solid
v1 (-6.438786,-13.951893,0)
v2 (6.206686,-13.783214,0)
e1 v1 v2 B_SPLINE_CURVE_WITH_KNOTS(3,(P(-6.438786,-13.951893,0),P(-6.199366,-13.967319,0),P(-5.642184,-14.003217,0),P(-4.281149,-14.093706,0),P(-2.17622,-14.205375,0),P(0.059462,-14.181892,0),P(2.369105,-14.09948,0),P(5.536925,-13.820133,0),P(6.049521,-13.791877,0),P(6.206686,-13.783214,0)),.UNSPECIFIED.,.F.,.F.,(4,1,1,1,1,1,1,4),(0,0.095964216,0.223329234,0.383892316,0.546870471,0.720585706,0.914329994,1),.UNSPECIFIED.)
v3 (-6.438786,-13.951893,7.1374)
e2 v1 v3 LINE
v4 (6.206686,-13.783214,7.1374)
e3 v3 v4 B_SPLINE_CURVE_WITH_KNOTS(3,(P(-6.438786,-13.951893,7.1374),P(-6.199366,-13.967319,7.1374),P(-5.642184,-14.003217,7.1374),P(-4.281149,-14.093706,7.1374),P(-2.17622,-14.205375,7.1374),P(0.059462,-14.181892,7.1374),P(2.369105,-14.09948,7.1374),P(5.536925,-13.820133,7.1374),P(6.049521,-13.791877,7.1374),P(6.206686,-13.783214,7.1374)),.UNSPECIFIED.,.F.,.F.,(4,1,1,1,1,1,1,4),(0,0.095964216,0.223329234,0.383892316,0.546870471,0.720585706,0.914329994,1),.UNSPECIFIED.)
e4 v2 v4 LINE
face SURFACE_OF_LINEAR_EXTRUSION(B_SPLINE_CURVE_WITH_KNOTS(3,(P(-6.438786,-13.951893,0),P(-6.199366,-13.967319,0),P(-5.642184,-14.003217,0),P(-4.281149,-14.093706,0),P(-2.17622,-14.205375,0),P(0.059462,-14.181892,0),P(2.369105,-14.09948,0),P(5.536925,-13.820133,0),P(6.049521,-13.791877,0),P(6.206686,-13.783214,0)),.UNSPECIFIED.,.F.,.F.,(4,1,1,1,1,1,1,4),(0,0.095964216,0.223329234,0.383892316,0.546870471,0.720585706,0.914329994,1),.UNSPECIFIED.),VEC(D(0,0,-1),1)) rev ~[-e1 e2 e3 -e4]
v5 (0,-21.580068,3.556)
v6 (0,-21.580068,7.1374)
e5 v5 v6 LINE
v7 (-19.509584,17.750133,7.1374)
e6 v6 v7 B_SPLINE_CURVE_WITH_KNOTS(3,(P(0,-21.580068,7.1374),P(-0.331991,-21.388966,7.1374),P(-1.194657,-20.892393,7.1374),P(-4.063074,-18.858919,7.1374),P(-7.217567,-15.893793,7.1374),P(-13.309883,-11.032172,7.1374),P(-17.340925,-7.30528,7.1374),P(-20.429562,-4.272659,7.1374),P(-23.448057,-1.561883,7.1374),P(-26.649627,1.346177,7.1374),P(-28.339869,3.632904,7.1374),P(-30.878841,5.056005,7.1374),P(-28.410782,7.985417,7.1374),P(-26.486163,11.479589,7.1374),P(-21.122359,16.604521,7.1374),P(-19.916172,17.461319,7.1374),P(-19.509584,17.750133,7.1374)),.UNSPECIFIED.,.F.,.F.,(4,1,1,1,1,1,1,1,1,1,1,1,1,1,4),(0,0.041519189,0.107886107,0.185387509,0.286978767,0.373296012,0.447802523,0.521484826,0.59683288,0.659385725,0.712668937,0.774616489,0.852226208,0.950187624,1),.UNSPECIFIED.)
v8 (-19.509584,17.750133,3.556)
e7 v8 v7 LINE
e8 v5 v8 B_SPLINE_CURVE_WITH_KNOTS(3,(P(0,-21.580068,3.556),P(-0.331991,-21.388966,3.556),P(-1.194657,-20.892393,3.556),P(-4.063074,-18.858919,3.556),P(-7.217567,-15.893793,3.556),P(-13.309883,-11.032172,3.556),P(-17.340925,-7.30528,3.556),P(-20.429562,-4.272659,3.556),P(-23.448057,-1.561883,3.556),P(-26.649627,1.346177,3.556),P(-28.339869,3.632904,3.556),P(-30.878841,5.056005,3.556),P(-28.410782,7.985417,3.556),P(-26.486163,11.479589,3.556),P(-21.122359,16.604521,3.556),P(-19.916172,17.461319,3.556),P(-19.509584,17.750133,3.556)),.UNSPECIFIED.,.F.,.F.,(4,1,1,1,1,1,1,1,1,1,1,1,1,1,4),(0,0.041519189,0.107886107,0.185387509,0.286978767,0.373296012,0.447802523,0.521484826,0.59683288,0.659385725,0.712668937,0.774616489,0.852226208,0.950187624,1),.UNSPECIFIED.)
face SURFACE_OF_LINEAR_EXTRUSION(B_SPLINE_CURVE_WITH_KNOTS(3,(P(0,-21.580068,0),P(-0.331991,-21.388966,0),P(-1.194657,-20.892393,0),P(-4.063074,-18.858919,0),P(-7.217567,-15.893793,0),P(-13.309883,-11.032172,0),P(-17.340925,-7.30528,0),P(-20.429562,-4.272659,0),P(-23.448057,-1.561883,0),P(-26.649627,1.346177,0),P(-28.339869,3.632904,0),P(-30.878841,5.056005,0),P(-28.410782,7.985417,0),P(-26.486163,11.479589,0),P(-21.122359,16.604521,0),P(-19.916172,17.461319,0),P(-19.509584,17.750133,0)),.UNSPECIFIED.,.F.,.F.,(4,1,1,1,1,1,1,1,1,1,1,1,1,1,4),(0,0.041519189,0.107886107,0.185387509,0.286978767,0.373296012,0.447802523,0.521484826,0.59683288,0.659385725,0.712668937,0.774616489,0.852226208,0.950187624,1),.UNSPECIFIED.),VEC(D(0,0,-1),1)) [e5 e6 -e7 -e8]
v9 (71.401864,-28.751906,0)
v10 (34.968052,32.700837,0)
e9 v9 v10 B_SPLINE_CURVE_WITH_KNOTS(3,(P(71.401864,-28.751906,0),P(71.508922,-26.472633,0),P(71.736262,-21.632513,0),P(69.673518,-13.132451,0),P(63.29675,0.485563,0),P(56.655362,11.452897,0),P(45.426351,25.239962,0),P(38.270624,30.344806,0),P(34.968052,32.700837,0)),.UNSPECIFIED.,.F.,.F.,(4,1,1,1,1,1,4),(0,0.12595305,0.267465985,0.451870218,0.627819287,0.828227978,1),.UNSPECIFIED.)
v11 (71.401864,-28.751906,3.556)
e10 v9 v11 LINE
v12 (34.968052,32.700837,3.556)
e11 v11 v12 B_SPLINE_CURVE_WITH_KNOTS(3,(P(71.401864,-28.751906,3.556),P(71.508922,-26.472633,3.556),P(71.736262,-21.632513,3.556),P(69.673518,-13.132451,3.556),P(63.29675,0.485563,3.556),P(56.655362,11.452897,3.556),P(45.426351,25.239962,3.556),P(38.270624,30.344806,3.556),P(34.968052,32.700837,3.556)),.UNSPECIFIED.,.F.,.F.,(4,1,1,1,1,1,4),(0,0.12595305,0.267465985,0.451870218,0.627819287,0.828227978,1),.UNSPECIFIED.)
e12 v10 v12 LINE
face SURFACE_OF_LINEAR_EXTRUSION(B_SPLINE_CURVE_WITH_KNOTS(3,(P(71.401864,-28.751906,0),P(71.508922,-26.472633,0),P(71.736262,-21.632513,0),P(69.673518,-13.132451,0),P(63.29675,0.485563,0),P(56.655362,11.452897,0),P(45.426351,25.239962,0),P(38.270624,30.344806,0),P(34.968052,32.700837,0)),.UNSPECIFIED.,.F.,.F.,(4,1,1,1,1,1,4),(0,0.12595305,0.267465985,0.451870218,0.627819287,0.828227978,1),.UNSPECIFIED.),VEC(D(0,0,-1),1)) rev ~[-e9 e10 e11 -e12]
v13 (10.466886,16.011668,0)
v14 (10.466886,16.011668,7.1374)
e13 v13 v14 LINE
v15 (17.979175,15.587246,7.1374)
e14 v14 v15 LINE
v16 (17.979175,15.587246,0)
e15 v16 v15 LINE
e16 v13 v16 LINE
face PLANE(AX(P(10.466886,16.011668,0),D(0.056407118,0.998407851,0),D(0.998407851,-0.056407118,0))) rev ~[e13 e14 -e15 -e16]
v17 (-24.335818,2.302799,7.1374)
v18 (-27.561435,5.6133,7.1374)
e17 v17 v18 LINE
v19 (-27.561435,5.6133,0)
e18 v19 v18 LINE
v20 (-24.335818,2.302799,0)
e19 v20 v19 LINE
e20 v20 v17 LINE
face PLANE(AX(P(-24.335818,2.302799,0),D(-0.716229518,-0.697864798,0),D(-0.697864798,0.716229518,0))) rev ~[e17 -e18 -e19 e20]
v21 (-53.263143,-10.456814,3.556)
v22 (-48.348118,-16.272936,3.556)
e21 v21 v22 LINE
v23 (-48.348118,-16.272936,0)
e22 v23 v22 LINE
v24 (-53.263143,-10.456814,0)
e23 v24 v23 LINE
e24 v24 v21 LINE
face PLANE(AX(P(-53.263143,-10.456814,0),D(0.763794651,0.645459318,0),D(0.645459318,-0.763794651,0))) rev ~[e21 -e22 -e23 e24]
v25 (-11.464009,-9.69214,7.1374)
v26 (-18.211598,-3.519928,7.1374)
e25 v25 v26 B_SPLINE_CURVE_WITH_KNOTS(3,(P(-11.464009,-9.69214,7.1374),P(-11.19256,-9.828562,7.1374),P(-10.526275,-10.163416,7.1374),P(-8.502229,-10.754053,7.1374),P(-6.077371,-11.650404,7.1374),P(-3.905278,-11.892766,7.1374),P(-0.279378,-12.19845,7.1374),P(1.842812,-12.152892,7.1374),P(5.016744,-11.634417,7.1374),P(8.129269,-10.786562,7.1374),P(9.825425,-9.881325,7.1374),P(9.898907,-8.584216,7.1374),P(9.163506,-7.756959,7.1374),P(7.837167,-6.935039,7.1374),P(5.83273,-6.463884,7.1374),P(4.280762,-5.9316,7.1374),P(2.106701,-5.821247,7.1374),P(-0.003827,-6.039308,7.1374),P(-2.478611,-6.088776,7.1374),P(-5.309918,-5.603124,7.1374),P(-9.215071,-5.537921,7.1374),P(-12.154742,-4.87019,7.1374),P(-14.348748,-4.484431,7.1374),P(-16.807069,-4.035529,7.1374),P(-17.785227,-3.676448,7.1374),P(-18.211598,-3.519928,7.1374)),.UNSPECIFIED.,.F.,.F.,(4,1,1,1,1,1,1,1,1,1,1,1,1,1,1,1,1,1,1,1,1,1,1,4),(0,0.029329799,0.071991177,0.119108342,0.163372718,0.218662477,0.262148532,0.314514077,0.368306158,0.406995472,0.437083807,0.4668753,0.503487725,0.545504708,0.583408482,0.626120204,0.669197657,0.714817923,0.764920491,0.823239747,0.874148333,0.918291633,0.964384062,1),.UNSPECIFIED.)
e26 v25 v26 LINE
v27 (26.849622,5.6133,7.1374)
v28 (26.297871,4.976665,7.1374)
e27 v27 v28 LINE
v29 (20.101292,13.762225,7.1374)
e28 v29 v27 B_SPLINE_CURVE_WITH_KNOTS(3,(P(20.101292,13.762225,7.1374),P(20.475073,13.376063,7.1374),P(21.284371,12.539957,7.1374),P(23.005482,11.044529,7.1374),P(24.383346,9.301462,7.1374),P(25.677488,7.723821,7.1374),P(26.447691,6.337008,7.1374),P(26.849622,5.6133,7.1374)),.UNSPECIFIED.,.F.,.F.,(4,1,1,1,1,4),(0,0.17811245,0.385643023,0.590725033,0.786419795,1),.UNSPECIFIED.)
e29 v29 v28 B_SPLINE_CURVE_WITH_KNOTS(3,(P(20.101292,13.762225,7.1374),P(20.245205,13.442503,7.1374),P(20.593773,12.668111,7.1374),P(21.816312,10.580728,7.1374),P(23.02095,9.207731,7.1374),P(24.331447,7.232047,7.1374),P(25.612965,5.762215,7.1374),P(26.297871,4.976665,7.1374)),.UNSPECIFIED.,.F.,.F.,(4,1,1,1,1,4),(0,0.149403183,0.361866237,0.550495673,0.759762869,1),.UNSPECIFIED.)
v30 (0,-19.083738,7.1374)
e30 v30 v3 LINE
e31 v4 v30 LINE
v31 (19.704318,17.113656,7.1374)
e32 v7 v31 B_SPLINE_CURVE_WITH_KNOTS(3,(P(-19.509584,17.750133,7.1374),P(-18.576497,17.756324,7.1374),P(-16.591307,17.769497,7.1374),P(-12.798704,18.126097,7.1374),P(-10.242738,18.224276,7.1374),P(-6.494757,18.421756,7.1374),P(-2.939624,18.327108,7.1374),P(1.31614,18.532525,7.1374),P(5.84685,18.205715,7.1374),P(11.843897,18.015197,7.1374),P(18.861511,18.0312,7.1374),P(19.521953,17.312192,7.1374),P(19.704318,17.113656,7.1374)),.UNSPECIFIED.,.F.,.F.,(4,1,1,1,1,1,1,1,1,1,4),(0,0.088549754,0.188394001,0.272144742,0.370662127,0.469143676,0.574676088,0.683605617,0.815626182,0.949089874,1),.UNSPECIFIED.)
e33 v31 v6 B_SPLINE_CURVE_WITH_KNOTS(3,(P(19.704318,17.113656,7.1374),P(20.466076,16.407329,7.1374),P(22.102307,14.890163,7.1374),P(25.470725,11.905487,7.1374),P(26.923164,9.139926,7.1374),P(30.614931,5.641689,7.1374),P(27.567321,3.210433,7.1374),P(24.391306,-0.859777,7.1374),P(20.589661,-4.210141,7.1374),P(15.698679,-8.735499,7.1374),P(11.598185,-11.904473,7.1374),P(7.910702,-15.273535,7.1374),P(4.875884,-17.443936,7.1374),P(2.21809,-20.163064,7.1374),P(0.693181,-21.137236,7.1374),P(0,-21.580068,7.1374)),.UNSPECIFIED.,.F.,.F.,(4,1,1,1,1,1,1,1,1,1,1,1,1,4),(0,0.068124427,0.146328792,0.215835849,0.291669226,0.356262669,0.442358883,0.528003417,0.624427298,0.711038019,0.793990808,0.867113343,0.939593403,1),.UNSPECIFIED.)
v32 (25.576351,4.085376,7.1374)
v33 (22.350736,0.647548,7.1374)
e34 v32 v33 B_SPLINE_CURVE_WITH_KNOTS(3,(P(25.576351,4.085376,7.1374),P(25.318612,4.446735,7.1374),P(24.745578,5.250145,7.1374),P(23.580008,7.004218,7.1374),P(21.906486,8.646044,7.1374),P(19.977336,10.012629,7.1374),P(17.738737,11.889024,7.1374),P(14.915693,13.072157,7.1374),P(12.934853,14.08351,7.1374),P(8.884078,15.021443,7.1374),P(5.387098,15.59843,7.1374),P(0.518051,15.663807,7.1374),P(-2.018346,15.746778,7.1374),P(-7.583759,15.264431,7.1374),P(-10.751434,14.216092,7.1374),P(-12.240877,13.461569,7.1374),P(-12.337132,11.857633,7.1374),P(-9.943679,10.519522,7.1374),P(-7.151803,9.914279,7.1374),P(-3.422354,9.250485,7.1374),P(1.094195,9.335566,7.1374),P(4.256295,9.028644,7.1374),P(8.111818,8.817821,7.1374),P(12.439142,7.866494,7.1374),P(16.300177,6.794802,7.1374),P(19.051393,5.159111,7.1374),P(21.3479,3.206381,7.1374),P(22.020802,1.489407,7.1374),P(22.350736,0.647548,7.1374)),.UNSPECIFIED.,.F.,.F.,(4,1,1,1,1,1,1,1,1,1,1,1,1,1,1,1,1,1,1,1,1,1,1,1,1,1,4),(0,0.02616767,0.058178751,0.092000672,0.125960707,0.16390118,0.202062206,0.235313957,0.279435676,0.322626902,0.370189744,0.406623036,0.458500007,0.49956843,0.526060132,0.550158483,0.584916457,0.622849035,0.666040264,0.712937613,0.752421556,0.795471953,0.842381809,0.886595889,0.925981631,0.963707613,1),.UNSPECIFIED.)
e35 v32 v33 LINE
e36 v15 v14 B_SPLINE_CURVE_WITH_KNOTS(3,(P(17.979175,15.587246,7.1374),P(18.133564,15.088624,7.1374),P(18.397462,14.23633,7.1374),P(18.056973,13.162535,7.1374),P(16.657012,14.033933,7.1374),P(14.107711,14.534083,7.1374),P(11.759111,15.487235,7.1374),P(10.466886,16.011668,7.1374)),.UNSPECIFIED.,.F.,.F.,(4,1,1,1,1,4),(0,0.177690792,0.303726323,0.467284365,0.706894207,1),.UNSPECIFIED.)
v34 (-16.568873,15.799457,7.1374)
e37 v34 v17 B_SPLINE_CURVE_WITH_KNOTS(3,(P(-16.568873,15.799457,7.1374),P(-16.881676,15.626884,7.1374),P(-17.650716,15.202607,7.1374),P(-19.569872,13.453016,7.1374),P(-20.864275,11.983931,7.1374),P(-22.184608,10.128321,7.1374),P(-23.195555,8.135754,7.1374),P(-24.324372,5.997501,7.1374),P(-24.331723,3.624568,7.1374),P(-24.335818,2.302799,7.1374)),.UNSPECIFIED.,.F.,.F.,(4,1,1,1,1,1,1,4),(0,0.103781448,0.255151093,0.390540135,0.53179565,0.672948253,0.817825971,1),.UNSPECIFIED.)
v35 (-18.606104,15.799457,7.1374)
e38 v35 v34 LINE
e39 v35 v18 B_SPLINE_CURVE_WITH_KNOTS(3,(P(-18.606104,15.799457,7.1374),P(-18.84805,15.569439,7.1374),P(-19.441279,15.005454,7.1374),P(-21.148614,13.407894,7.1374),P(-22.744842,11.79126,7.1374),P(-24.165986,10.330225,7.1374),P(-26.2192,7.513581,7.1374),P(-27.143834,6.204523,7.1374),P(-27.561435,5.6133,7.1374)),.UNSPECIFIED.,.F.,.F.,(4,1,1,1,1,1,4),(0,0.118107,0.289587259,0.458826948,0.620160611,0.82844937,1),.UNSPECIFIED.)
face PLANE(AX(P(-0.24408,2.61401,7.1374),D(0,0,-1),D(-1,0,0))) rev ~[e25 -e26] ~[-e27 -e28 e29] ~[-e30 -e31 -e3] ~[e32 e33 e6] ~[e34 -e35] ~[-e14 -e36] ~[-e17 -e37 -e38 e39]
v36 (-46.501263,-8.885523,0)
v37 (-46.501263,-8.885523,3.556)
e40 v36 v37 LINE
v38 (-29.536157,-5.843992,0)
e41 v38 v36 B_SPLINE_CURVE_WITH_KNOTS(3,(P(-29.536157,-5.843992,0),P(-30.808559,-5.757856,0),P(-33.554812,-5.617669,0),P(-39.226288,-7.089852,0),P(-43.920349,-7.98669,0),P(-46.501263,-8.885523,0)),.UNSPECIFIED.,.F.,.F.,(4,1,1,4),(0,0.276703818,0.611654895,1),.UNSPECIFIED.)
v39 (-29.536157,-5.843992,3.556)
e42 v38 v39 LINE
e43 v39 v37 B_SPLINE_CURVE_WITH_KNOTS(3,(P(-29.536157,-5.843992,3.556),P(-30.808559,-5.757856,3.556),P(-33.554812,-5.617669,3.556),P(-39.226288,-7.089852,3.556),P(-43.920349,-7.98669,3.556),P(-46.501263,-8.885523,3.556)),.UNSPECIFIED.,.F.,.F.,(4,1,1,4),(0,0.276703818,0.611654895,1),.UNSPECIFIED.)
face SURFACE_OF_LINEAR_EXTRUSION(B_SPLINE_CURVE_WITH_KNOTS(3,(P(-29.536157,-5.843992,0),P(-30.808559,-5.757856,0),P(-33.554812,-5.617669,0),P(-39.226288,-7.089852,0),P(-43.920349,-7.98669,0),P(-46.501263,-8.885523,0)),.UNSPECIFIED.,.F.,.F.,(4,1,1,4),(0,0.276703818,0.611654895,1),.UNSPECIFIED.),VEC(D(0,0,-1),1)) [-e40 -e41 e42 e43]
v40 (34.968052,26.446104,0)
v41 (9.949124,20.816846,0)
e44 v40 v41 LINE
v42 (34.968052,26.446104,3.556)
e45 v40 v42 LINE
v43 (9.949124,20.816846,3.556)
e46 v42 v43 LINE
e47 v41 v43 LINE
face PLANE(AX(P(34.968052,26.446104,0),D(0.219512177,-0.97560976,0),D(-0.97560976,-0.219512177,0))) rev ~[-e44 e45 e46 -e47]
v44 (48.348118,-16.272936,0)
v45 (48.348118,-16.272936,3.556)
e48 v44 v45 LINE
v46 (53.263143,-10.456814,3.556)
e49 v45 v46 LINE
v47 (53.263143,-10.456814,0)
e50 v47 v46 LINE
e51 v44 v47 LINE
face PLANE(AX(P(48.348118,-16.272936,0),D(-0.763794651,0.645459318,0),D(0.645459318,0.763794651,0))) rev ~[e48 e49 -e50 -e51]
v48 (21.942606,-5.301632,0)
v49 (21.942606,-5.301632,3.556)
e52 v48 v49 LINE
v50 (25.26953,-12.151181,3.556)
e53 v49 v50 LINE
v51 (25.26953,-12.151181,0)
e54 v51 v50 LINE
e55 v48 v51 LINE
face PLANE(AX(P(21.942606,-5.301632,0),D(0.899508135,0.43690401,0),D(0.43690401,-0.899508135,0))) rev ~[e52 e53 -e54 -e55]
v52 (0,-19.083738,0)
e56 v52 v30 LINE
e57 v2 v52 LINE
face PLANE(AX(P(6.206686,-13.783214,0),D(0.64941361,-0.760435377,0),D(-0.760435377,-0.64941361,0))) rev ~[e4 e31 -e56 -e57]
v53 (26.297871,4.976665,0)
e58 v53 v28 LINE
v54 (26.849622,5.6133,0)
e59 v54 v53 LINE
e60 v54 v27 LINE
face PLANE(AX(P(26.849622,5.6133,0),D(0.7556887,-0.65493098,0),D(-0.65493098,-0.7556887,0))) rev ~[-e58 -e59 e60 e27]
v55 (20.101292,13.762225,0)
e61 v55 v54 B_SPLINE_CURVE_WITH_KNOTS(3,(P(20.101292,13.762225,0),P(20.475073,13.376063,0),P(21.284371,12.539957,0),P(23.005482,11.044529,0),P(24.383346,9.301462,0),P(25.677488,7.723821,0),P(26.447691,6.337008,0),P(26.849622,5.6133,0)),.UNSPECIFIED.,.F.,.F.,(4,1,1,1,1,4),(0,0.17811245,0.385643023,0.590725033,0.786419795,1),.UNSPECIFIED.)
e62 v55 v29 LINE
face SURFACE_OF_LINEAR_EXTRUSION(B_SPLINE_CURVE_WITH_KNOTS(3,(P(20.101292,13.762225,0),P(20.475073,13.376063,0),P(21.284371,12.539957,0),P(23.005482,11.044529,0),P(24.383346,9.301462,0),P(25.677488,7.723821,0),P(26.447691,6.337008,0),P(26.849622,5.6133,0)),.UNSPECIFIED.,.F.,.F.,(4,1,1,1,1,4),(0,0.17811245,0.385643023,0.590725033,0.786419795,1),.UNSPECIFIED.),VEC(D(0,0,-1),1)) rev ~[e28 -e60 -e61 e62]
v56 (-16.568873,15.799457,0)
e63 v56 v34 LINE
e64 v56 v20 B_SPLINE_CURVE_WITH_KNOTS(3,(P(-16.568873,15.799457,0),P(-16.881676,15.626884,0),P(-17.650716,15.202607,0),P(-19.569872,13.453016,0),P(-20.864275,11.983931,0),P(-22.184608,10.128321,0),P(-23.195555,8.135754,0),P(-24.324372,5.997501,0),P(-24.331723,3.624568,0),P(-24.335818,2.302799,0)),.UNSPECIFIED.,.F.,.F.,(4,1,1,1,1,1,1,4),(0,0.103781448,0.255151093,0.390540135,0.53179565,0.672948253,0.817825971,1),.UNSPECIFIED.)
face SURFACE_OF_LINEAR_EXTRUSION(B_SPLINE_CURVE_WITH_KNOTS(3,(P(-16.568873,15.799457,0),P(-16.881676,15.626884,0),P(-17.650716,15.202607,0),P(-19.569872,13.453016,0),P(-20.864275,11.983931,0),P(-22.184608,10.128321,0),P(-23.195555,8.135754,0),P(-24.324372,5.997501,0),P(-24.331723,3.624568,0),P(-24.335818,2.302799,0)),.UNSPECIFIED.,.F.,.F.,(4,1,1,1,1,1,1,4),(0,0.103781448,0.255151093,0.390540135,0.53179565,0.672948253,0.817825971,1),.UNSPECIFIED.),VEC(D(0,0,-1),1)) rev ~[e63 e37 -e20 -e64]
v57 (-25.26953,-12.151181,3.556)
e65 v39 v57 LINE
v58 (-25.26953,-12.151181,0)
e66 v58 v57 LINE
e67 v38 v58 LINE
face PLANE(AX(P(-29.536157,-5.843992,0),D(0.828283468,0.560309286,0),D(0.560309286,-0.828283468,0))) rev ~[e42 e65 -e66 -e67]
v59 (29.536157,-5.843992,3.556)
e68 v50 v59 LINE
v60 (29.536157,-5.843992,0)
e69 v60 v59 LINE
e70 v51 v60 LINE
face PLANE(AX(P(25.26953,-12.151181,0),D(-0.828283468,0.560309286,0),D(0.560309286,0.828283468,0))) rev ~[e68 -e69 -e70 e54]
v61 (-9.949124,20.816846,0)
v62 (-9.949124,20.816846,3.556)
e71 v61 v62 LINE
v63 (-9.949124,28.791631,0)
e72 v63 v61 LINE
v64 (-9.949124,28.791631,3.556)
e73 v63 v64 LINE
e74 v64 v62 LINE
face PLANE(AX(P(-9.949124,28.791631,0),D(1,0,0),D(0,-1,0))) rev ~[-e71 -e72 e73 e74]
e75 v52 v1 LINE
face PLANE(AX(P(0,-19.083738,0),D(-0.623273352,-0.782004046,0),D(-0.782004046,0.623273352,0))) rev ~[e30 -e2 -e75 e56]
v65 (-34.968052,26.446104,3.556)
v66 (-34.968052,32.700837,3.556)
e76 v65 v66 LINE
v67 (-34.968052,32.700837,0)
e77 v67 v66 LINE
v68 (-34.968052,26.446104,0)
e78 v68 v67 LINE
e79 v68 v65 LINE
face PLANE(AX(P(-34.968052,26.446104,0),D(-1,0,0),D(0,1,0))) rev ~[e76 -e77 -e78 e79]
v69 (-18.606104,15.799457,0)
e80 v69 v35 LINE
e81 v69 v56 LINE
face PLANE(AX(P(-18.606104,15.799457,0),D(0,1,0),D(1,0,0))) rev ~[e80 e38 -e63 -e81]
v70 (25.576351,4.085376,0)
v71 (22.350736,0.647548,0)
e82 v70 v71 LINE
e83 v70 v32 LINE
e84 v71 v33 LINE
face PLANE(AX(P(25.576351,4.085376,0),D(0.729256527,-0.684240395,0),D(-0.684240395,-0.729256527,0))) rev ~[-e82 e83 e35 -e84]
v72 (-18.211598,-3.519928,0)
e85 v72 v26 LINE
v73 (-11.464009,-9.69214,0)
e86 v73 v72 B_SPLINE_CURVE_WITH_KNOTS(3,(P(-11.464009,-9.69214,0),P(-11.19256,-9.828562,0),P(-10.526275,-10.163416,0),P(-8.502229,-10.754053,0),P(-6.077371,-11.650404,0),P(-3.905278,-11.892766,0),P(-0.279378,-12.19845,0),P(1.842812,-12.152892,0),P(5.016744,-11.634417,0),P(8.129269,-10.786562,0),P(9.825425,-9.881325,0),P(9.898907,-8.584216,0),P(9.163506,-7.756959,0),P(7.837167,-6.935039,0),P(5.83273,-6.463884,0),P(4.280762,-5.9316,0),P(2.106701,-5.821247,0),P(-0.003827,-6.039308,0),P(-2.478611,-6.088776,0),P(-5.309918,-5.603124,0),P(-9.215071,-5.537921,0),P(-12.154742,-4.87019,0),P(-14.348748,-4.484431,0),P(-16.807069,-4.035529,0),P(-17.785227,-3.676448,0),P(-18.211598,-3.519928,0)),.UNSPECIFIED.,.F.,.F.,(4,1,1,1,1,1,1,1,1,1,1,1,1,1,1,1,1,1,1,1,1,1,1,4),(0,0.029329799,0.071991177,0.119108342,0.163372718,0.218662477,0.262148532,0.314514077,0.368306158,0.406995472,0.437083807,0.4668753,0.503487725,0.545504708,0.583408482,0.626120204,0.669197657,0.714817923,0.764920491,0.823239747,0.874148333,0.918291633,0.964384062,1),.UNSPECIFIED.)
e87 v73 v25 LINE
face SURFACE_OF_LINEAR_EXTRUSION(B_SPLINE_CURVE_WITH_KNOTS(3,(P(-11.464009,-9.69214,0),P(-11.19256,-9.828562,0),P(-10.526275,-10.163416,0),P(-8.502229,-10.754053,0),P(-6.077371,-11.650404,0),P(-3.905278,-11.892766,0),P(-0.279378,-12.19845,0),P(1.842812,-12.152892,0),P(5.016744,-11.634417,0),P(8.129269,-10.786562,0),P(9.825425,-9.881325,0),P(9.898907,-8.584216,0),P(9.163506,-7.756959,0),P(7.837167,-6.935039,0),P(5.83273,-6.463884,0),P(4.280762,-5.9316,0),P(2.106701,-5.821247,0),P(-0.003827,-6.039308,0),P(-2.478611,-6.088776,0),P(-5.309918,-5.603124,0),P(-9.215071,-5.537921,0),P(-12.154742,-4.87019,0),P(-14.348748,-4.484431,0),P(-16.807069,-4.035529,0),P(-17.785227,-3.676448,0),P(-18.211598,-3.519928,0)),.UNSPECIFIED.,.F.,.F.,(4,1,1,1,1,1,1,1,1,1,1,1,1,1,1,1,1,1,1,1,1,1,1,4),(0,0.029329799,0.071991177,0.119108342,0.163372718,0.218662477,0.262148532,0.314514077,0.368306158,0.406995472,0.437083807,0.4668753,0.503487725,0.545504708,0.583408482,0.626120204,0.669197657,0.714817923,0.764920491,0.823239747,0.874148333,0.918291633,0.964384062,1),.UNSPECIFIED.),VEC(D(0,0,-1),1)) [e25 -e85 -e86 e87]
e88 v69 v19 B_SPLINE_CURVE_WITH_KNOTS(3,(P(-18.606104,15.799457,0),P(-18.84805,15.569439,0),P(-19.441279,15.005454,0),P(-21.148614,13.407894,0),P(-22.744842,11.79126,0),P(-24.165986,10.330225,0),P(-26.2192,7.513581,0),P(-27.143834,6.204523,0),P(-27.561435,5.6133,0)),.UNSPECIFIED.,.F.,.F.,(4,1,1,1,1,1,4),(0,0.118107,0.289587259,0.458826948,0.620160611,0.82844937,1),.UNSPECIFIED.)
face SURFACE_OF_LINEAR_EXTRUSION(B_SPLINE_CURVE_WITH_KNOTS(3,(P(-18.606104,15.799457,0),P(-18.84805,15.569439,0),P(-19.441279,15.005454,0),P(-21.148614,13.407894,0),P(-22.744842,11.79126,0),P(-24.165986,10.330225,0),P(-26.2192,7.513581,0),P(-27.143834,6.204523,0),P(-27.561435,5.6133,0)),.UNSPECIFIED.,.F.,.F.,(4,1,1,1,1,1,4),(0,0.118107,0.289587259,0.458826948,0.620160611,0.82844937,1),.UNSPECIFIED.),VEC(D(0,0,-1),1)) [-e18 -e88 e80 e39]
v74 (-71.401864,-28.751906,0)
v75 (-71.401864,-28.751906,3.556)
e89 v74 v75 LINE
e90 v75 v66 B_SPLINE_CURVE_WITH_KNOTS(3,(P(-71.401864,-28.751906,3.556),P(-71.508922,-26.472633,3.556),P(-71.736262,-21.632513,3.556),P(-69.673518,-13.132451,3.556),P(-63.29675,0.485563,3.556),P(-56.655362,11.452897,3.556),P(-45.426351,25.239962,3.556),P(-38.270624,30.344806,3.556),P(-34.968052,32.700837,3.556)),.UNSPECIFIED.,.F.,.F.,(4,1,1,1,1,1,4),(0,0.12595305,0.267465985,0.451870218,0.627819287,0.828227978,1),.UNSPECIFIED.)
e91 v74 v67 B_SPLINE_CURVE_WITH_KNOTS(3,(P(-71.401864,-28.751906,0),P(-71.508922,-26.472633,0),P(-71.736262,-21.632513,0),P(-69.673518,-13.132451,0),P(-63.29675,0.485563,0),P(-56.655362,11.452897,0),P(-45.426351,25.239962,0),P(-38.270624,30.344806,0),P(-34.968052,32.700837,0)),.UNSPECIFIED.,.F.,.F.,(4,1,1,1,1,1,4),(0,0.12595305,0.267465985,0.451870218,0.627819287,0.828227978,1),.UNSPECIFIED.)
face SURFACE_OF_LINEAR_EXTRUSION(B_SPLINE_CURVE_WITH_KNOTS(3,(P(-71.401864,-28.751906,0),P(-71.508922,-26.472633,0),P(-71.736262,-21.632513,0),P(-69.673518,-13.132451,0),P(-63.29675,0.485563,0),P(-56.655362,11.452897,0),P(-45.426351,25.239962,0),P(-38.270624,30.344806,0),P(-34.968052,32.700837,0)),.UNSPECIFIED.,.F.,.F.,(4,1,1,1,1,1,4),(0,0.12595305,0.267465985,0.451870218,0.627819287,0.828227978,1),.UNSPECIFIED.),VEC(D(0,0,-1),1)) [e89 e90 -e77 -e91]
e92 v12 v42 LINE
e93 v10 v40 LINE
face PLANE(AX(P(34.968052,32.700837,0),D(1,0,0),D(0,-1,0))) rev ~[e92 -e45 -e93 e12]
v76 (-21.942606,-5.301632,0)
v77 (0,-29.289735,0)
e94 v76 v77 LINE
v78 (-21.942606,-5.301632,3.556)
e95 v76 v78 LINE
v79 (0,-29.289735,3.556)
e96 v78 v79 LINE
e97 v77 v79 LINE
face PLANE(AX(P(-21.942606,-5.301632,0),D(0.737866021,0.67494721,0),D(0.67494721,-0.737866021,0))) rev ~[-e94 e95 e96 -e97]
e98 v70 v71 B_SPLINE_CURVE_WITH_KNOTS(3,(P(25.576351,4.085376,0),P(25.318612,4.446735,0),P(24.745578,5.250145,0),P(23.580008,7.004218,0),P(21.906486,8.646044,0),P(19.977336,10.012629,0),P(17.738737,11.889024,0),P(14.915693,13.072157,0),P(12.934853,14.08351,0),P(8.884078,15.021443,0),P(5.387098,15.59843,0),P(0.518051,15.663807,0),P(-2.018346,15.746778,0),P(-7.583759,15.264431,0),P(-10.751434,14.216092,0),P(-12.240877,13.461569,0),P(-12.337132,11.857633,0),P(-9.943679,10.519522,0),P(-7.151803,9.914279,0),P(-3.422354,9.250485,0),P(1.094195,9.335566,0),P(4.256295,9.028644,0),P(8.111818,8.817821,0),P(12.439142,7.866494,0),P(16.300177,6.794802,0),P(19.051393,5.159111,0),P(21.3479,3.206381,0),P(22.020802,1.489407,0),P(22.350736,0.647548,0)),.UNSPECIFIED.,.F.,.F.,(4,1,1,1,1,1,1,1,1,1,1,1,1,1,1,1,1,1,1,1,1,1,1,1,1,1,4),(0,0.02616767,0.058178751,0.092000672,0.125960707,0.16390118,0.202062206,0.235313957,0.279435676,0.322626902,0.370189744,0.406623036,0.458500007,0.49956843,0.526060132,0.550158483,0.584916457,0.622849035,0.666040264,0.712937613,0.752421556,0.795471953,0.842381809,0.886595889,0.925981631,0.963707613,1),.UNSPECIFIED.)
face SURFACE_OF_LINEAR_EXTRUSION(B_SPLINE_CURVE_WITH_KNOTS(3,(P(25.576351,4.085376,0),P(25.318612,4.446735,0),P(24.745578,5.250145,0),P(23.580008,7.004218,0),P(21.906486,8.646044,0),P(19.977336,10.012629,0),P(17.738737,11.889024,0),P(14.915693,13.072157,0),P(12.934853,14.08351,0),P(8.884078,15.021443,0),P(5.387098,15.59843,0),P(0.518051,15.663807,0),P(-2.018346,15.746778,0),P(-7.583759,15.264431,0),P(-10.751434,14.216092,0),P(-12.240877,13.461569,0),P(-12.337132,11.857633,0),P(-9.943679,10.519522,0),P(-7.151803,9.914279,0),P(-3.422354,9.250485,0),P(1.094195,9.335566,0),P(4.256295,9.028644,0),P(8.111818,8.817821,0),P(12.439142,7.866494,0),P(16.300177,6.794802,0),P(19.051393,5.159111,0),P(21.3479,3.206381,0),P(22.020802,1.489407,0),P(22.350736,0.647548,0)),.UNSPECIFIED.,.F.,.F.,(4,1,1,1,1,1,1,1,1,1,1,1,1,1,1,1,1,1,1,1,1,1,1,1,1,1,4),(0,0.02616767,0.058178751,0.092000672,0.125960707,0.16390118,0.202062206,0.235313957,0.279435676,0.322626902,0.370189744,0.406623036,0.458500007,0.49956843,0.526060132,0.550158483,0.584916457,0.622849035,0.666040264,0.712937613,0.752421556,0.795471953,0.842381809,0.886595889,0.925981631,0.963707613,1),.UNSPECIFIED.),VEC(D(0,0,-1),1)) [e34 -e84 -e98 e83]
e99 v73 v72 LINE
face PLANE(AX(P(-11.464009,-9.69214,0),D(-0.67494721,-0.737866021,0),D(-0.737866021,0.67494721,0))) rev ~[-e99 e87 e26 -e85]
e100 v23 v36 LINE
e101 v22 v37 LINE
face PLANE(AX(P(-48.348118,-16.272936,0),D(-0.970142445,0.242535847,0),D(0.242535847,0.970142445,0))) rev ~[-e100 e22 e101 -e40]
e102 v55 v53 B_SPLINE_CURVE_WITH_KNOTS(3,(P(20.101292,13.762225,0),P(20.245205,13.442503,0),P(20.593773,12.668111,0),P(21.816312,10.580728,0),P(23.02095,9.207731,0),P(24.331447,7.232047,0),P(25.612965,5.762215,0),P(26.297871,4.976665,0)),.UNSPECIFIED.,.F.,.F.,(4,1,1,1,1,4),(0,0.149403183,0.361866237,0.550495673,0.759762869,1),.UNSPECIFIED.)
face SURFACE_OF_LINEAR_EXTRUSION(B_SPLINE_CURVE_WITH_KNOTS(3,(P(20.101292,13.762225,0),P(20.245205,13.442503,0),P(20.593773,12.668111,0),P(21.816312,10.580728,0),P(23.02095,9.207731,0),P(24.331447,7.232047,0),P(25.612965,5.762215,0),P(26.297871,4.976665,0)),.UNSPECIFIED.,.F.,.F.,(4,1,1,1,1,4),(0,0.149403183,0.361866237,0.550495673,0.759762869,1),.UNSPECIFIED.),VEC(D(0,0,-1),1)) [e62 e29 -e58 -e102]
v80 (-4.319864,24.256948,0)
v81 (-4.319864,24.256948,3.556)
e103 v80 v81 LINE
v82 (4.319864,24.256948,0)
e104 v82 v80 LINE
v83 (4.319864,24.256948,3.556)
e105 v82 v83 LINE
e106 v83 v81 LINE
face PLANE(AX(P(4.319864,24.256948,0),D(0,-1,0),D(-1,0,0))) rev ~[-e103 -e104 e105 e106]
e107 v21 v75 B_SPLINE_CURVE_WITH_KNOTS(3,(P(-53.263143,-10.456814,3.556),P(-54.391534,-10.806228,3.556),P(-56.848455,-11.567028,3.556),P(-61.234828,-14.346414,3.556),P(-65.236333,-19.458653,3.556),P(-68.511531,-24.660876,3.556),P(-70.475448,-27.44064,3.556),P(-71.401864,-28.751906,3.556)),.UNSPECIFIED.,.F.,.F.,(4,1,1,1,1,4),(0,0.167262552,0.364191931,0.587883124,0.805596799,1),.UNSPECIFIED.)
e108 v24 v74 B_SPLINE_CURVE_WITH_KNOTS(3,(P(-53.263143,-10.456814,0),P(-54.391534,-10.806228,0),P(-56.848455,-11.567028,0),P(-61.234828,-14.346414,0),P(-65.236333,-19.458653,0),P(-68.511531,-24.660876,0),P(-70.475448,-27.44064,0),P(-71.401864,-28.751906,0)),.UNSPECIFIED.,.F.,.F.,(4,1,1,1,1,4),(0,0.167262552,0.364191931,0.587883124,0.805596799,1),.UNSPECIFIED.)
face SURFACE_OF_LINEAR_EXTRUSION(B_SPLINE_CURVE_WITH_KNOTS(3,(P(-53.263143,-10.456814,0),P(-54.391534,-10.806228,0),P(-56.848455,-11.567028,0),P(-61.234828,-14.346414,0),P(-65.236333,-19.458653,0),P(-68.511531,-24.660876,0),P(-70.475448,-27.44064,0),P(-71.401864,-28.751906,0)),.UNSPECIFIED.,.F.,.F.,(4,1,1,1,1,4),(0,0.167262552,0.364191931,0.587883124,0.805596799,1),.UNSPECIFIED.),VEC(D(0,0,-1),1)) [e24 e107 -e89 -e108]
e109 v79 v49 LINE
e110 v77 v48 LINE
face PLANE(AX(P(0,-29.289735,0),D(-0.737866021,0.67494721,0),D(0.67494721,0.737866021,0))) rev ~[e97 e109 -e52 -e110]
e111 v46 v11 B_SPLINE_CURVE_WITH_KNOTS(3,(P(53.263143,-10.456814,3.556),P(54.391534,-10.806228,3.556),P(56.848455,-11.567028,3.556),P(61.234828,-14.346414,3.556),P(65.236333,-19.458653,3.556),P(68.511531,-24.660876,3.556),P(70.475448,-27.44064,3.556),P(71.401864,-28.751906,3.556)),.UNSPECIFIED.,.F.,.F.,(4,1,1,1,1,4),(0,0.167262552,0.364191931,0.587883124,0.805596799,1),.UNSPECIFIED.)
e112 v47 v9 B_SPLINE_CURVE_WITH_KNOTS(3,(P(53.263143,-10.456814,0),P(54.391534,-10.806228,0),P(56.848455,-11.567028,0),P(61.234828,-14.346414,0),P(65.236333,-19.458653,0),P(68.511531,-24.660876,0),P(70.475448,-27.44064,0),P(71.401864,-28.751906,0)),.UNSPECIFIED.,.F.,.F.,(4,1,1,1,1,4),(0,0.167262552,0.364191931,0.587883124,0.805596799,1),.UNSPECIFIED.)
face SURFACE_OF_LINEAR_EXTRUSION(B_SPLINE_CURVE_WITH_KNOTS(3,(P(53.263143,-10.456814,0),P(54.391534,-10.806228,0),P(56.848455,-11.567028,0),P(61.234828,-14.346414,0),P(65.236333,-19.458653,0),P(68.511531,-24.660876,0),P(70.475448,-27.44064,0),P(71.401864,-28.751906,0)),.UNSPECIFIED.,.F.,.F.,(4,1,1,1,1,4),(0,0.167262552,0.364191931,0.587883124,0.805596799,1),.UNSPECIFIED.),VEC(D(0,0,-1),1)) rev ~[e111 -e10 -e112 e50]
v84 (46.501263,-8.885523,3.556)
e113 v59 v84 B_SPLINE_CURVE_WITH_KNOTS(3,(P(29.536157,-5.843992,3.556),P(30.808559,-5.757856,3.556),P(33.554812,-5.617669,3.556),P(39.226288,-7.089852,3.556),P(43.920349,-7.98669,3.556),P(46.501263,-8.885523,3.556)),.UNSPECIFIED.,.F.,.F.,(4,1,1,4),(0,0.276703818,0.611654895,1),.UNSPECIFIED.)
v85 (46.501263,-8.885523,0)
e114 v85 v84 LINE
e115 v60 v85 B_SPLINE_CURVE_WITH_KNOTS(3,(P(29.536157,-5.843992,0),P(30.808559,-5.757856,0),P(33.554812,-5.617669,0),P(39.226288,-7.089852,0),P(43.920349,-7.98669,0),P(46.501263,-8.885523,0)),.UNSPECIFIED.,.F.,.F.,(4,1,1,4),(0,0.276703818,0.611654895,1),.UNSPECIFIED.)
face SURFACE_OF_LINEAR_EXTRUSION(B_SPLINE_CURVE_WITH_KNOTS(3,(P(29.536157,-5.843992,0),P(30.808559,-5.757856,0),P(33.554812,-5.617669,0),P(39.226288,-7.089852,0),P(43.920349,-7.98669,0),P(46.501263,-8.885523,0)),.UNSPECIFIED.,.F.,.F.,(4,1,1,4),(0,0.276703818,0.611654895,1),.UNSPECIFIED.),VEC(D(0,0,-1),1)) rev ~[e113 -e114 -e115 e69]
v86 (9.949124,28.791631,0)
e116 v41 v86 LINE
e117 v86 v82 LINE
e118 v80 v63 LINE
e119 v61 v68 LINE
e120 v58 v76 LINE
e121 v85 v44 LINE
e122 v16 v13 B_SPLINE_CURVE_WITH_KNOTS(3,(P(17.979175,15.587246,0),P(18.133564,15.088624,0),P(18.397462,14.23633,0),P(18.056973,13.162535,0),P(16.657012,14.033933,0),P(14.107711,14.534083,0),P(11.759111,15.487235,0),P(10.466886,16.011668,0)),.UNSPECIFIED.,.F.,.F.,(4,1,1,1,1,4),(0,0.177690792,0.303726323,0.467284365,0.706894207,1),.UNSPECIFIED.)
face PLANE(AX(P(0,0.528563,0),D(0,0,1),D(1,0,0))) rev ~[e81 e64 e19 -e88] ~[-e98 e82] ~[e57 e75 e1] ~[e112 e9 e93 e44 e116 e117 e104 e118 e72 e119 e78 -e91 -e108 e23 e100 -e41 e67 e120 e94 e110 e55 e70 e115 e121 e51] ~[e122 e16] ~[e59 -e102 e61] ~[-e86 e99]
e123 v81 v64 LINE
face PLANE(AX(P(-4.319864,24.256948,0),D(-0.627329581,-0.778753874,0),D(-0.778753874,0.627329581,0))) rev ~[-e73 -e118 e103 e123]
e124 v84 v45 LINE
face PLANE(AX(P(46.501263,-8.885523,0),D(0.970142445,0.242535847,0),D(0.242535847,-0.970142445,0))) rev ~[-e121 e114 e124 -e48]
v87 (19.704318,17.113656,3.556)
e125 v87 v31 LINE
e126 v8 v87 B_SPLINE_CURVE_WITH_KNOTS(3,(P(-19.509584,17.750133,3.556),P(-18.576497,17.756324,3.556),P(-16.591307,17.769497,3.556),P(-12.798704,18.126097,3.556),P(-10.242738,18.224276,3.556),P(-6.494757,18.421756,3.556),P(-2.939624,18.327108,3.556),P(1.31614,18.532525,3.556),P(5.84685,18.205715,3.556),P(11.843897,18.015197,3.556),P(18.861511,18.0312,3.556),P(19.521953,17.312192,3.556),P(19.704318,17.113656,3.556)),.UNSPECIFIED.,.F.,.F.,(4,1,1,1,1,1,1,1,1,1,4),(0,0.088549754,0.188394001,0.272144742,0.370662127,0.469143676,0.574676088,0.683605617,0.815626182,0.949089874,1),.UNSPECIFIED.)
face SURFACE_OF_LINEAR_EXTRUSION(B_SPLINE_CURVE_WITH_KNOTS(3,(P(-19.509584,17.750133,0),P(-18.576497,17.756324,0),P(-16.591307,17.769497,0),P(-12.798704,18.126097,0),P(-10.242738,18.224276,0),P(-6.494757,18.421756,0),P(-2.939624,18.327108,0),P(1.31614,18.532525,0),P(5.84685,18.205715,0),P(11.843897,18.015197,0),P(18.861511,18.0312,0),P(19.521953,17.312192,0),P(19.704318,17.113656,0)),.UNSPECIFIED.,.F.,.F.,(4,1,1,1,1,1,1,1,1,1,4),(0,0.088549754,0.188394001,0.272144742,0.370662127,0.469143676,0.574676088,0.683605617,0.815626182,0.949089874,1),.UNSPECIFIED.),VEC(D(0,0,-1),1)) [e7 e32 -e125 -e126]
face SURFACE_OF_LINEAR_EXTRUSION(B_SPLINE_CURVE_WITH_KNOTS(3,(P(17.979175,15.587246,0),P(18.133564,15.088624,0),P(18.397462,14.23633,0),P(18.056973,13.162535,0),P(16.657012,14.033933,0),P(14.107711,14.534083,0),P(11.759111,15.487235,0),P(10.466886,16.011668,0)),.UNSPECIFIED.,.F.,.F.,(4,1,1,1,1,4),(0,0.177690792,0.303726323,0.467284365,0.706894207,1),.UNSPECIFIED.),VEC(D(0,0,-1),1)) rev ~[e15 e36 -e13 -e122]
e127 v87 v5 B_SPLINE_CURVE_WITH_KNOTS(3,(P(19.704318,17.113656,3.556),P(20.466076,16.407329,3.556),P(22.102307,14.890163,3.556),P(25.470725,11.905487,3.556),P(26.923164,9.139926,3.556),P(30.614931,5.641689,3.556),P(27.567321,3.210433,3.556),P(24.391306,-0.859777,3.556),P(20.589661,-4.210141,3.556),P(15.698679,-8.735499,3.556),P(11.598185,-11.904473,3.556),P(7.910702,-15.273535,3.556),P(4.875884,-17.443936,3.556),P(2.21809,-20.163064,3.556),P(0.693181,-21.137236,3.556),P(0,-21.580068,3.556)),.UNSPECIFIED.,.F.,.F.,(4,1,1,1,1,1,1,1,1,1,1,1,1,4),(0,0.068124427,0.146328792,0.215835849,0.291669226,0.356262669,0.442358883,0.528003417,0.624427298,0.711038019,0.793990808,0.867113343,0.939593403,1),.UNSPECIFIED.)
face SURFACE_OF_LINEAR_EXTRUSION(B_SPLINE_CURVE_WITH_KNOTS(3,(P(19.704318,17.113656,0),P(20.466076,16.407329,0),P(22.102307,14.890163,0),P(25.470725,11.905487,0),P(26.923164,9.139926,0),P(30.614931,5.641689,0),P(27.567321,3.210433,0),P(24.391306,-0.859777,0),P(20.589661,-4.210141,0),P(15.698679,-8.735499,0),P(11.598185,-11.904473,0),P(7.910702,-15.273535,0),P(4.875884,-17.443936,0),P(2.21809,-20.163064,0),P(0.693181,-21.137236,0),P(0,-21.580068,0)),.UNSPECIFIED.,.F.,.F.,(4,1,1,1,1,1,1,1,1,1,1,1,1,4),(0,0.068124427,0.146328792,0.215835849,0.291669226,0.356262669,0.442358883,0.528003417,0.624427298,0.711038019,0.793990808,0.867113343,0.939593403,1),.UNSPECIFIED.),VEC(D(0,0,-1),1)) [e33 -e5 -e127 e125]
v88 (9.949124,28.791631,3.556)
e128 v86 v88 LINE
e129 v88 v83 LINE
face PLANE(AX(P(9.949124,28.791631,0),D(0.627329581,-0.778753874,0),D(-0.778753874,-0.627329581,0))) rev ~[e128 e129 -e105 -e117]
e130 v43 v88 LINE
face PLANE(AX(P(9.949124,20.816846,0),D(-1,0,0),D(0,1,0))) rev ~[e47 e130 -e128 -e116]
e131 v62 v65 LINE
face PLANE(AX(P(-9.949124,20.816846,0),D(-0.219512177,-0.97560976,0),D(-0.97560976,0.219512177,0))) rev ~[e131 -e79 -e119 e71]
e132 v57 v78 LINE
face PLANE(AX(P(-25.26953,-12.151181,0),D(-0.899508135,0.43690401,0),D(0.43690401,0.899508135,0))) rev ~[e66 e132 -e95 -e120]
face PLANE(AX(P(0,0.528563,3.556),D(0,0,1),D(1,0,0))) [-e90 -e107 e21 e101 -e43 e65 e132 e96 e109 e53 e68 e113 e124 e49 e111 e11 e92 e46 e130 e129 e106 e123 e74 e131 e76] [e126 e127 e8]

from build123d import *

# Parameters (mm, degrees)
F1_DEPTH = 7.1374
F2_DEPTH = 3.556


with BuildPart() as f1:
    # F0 (on Top) → F1 (new body)
    with BuildSketch(Plane.XY):
        with BuildLine():
            add(Edge.make_bspline(
                [(-19.5095837116, 17.750132829), (-18.5764965966, 17.7563244168), (-16.5913074056, 17.7694973275), (-12.7987040255, 18.1260969536), (-10.2427380873, 18.2242756955), (-6.4947569706, 18.4217557716), (-2.9396242918, 18.3271077498), (1.3161403141, 18.5325250144), (5.846850049, 18.2057147503), (11.8438965539, 18.015196782), (18.8615107913, 18.0311999967), (19.5219533199, 17.3121916236), (19.704317674, 17.1136558056)],
                knots=[0, 0, 0, 0, 0.088549754, 0.1883940006, 0.2721447417, 0.3706621273, 0.469143676, 0.5746760878, 0.683605617, 0.8156261821, 0.9490898742, 1, 1, 1, 1], degree=3))
            add(Edge.make_bspline(
                [(0, -21.5800683945), (-0.3319907115, -21.3889658164), (-1.1946565288, -20.8923927014), (-4.0630738776, -18.8589188134), (-7.2175668974, -15.8937927891), (-13.3098833623, -11.0321718092), (-17.3409245354, -7.3052803614), (-20.4295617413, -4.2726588061), (-23.4480572764, -1.5618833972), (-26.6496266133, 1.3461765476), (-28.3398688396, 3.6329043291), (-30.8788410113, 5.0560047788), (-28.4107816367, 7.9854169873), (-26.4861625524, 11.4795888482), (-21.1223594469, 16.604521381), (-19.9161718462, 17.4613189465), (-19.5095837116, 17.750132829)],
                knots=[0, 0, 0, 0, 0.0415191894, 0.1078861071, 0.1853875086, 0.2869787673, 0.373296012, 0.4478025234, 0.5214848259, 0.5968328798, 0.6593857253, 0.7126689374, 0.7746164892, 0.8522262076, 0.9501876237, 1, 1, 1, 1], degree=3))
            add(Edge.make_bspline(
                [(19.704317674, 17.1136558056), (20.4660764924, 16.40732859), (22.1023067283, 14.8901634207), (25.4707250683, 11.9054874951), (26.9231641299, 9.1399257151), (30.6149308579, 5.641689151), (27.5673209338, 3.210433105), (24.3913064484, -0.8597774947), (20.589660928, -4.21014052), (15.6986794339, -8.7354987119), (11.5981846852, -11.9044730513), (7.9107016082, -15.273535089), (4.8758837066, -17.4439363568), (2.2180895591, -20.1630638064), (0.6931811647, -21.1372364599), (0, -21.5800683945)],
                knots=[0, 0, 0, 0, 0.0681244273, 0.1463287922, 0.2158358485, 0.2916692257, 0.356262669, 0.4423588831, 0.5280034165, 0.6244272982, 0.7110380194, 0.7939908084, 0.8671133434, 0.9395934026, 1, 1, 1, 1], degree=3))
        make_face()
        with BuildLine():
            Line((0, -19.083738327), (-6.4387861639, -13.9518929645))
            add(Edge.make_bspline(
                [(-6.4387861639, -13.9518929645), (-6.1993659016, -13.9673186417), (-5.6421838004, -14.0032174881), (-4.2811490717, -14.0937063824), (-2.1762200386, -14.2053752649), (0.0594619608, -14.1818923498), (2.3691048655, -14.0994803383), (5.5369254985, -13.8201330822), (6.0495213503, -13.7918771204), (6.2066861428, -13.7832136825)],
                knots=[0, 0, 0, 0, 0.0959642163, 0.2233292335, 0.3838923159, 0.5468704707, 0.7205857063, 0.9143299944, 1, 1, 1, 1], degree=3))
            Line((6.2066861428, -13.7832136825), (0, -19.083738327))
        make_face(mode=Mode.SUBTRACT)
        with BuildLine():
            Line((-11.4640093252, -9.6921403307), (-18.2115975767, -3.51992785))
            add(Edge.make_bspline(
                [(-11.4640093252, -9.6921403307), (-11.1925595515, -9.8285623281), (-10.5262751021, -10.163415639), (-8.5022286167, -10.7540533189), (-6.0773711883, -11.6504044762), (-3.9052776575, -11.8927662396), (-0.2793776442, -12.1984498059), (1.8428122139, -12.1528920689), (5.0167442566, -11.6344167356), (8.1292689781, -10.7865623805), (9.8254254509, -9.8813245338), (9.8989069755, -8.5842157481), (9.1635058152, -7.7569593745), (7.8371665028, -6.9350394151), (5.8327304198, -6.4638838348), (4.2807621724, -5.931599683), (2.1067005646, -5.8212474651), (-0.003827204, -6.0393083847), (-2.4786113395, -6.0887757908), (-5.309917662, -5.6031236679), (-9.2150709767, -5.5379207737), (-12.1547418159, -4.8701897095), (-14.3487475828, -4.484430802), (-16.8070690828, -4.0355286744), (-17.785227272, -3.6764479075), (-18.2115975767, -3.51992785)],
                knots=[0, 0, 0, 0, 0.0293297987, 0.0719911773, 0.1191083424, 0.1633727176, 0.2186624769, 0.2621485317, 0.3145140775, 0.3683061575, 0.4069954722, 0.4370838071, 0.4668753002, 0.5034877254, 0.5455047079, 0.583408482, 0.6261202043, 0.6691976568, 0.7148179234, 0.7649204909, 0.8232397475, 0.8741483333, 0.9182916333, 0.9643840622, 1, 1, 1, 1], degree=3))
        make_face(mode=Mode.SUBTRACT)
        with BuildLine():
            Line((-18.6061039567, 15.7994572073), (-16.5688730776, 15.7994572073))
            add(Edge.make_bspline(
                [(-16.5688730776, 15.7994572073), (-16.8816761775, 15.6268844843), (-17.6507158673, 15.2026071246), (-19.5698724625, 13.4530156399), (-20.8642747146, 11.9839312137), (-22.1846082354, 10.1283207834), (-23.1955549411, 8.1357541164), (-24.3243720211, 5.9975006156), (-24.3317234691, 3.6245676167), (-24.3358183652, 2.3027989082)],
                knots=[0, 0, 0, 0, 0.1037814483, 0.2551510929, 0.390540135, 0.5317956505, 0.6729482527, 0.8178259707, 1, 1, 1, 1], degree=3))
            Line((-24.3358183652, 2.3027989082), (-27.5614354759, 5.613300018))
            add(Edge.make_bspline(
                [(-18.6061039567, 15.7994572073), (-18.8480500596, 15.5694385267), (-19.4412791552, 15.0054543492), (-21.1486136054, 13.4078939803), (-22.7448424038, 11.7912604684), (-24.1659861022, 10.3302251487), (-26.2192004031, 7.5135805738), (-27.1438340233, 6.2045227752), (-27.5614354759, 5.613300018)],
                knots=[0, 0, 0, 0, 0.1181070001, 0.2895872593, 0.4588269477, 0.6201606114, 0.8284493696, 1, 1, 1, 1], degree=3))
        make_face(mode=Mode.SUBTRACT)
        with BuildLine():
            add(Edge.make_bspline(
                [(25.5763512105, 4.085376393), (25.3186117542, 4.4467346235), (24.7455779446, 5.2501447273), (23.5800084636, 7.0042181418), (21.9064864262, 8.6460441764), (19.9773363571, 10.0126293664), (17.7387365257, 11.8890244394), (14.9156926035, 13.0721572234), (12.9348526983, 14.083510194), (8.8840783919, 15.0214431267), (5.387097953, 15.5984301581), (0.5180509573, 15.6638074044), (-2.0183458944, 15.7467776041), (-7.5837591411, 15.2644309862), (-10.7514336718, 14.2160924736), (-12.2408771691, 13.4615689342), (-12.3371315684, 11.8576332104), (-9.9436794222, 10.5195219763), (-7.1518033629, 9.9142792079), (-3.4223539456, 9.2504854024), (1.0941950879, 9.3355661475), (4.256295495, 9.0286435447), (8.1118177079, 8.8178212962), (12.4391418659, 7.866493923), (16.3001767562, 6.7948016187), (19.0513926717, 5.1591107001), (21.3478997584, 3.2063806384), (22.0208015061, 1.4894074512), (22.3507359624, 0.6475481205)],
                knots=[0, 0, 0, 0, 0.0261676702, 0.0581787514, 0.0920006719, 0.1259607075, 0.1639011804, 0.2020622058, 0.2353139567, 0.2794356763, 0.3226269021, 0.3701897439, 0.4066230356, 0.4585000072, 0.4995684305, 0.5260601319, 0.5501584831, 0.5849164575, 0.622849035, 0.6660402642, 0.7129376131, 0.7524215564, 0.7954719532, 0.8423818089, 0.8865958886, 0.9259816305, 0.9637076132, 1, 1, 1, 1], degree=3))
            Line((25.5763512105, 4.085376393), (22.3507359624, 0.6475481205))
        make_face(mode=Mode.SUBTRACT)
        with BuildLine():
            add(Edge.make_bspline(
                [(20.1012920588, 13.7622253969), (20.2452048268, 13.4425032395), (20.5937728481, 12.6681110761), (21.8163123463, 10.5807281257), (23.0209503907, 9.2077312684), (24.3314473915, 7.2320467017), (25.6129651562, 5.7622151271), (26.2978710234, 4.9766651355)],
                knots=[0, 0, 0, 0, 0.1494031829, 0.361866237, 0.5504956727, 0.759762869, 1, 1, 1, 1], degree=3))
            add(Edge.make_bspline(
                [(20.1012920588, 13.7622253969), (20.4750730429, 13.3760628597), (21.2843709261, 12.5399568584), (23.0054821127, 11.0445287637), (24.383345844, 9.3014615168), (25.6774875683, 7.7238205109), (26.4476910831, 6.3370082248), (26.8496219069, 5.613300018)],
                knots=[0, 0, 0, 0, 0.1781124497, 0.3856430226, 0.5907250332, 0.7864197951, 1, 1, 1, 1], degree=3))
            Line((26.8496219069, 5.613300018), (26.2978710234, 4.9766651355))
        make_face(mode=Mode.SUBTRACT)
        with BuildLine():
            add(Edge.make_bspline(
                [(17.9791748524, 15.5872460455), (18.1335643678, 15.0886235141), (18.3974618909, 14.2363295572), (18.0569729416, 13.1625353099), (16.6570122906, 14.0339334557), (14.1077114542, 14.5340834733), (11.7591107639, 15.4872345416), (10.466885753, 16.0116683692)],
                knots=[0, 0, 0, 0, 0.1776907916, 0.3037263227, 0.4672843646, 0.706894207, 1, 1, 1, 1], degree=3))
            Line((10.466885753, 16.0116683692), (17.9791748524, 15.5872460455))
        make_face(mode=Mode.SUBTRACT)
    extrude(amount=F1_DEPTH)

    # F0 (on Top) → F2 (join)
    with BuildSketch(Plane.XY):
        with BuildLine():
            Line((-21.9426061958, -5.3016319871), (0, -29.2897354811))
            Line((0, -29.2897354811), (21.9426061958, -5.3016319871))
            Line((21.9426061958, -5.3016319871), (25.2695303128, -12.1511807173))
            Line((25.2695303128, -12.1511807173), (29.5361573841, -5.8439915397))
            add(Edge.make_bspline(
                [(29.5361573841, -5.8439915397), (30.8085593289, -5.7578560404), (33.5548119661, -5.6176687882), (39.226288166, -7.0898518959), (43.9203490864, -7.9866895348), (46.5012626113, -8.8855231766)],
                knots=[0, 0, 0, 0, 0.2767038179, 0.6116548947, 1, 1, 1, 1], degree=3))
            Line((46.5012626113, -8.8855231766), (48.3481176198, -16.2729360163))
            Line((48.3481176198, -16.2729360163), (53.263142705, -10.4568144307))
            add(Edge.make_bspline(
                [(53.263142705, -10.4568144307), (54.3915338128, -10.8062275975), (56.8484551687, -11.5670282327), (61.2348281764, -14.3464137244), (65.2363326588, -19.4586534824), (68.5115306821, -24.6608758261), (70.4754479584, -27.4406396667), (71.4018642902, -28.7519060075)],
                knots=[0, 0, 0, 0, 0.167262552, 0.3641919307, 0.5878831242, 0.8055967993, 1, 1, 1, 1], degree=3))
            add(Edge.make_bspline(
                [(71.4018642902, -28.7519060075), (71.5089216785, -26.4726334151), (71.7362620233, -21.6325133105), (69.6735176256, -13.1324512433), (63.2967501182, 0.4855632474), (56.6553617612, 11.4528973101), (45.4263510597, 25.239962007), (38.2706242276, 30.3448056276), (34.9680520594, 32.7008366585)],
                knots=[0, 0, 0, 0, 0.1259530501, 0.2674659854, 0.4518702183, 0.627819287, 0.8282279783, 1, 1, 1, 1], degree=3))
            Line((34.9680520594, 32.7008366585), (34.9680520594, 26.4461040497))
            Line((34.9680520594, 26.4461040497), (9.9491244182, 20.8168458194))
            Line((9.9491244182, 20.8168458194), (9.9491244182, 28.7916306406))
            Line((9.9491244182, 28.7916306406), (4.3198643252, 24.2569483817))
            Line((4.3198643252, 24.2569483817), (0, 24.2569483817))
            Line((0, 24.2569483817), (-4.3198643252, 24.2569483817))
            Line((-4.3198643252, 24.2569483817), (-9.9491244182, 28.7916306406))
            Line((-9.9491244182, 28.7916306406), (-9.9491244182, 20.8168458194))
            Line((-9.9491244182, 20.8168458194), (-34.9680520594, 26.4461040497))
            Line((-34.9680520594, 26.4461040497), (-34.9680520594, 32.7008366585))
            add(Edge.make_bspline(
                [(-71.4018642902, -28.7519060075), (-71.5089216785, -26.4726334151), (-71.7362620233, -21.6325133105), (-69.6735176256, -13.1324512433), (-63.2967501182, 0.4855632474), (-56.6553617612, 11.4528973101), (-45.4263510597, 25.239962007), (-38.2706242276, 30.3448056276), (-34.9680520594, 32.7008366585)],
                knots=[0, 0, 0, 0, 0.1259530501, 0.2674659854, 0.4518702183, 0.627819287, 0.8282279783, 1, 1, 1, 1], degree=3))
            add(Edge.make_bspline(
                [(-53.263142705, -10.4568144307), (-54.3915338128, -10.8062275975), (-56.8484551687, -11.5670282327), (-61.2348281764, -14.3464137244), (-65.2363326588, -19.4586534824), (-68.5115306821, -24.6608758261), (-70.4754479584, -27.4406396667), (-71.4018642902, -28.7519060075)],
                knots=[0, 0, 0, 0, 0.167262552, 0.3641919307, 0.5878831242, 0.8055967993, 1, 1, 1, 1], degree=3))
            Line((-53.263142705, -10.4568144307), (-48.3481176198, -16.2729360163))
            Line((-48.3481176198, -16.2729360163), (-46.5012626113, -8.8855231766))
            add(Edge.make_bspline(
                [(-29.5361573841, -5.8439915397), (-30.8085593289, -5.7578560404), (-33.5548119661, -5.6176687882), (-39.226288166, -7.0898518959), (-43.9203490864, -7.9866895348), (-46.5012626113, -8.8855231766)],
                knots=[0, 0, 0, 0, 0.2767038179, 0.6116548947, 1, 1, 1, 1], degree=3))
            Line((-29.5361573841, -5.8439915397), (-25.2695303128, -12.1511807173))
            Line((-25.2695303128, -12.1511807173), (-21.9426061958, -5.3016319871))
        make_face()
        with BuildLine():
            add(Edge.make_bspline(
                [(0, -21.5800683945), (-0.3319907115, -21.3889658164), (-1.1946565288, -20.8923927014), (-4.0630738776, -18.8589188134), (-7.2175668974, -15.8937927891), (-13.3098833623, -11.0321718092), (-17.3409245354, -7.3052803614), (-20.4295617413, -4.2726588061), (-23.4480572764, -1.5618833972), (-26.6496266133, 1.3461765476), (-28.3398688396, 3.6329043291), (-30.8788410113, 5.0560047788), (-28.4107816367, 7.9854169873), (-26.4861625524, 11.4795888482), (-21.1223594469, 16.604521381), (-19.9161718462, 17.4613189465), (-19.5095837116, 17.750132829)],
                knots=[0, 0, 0, 0, 0.0415191894, 0.1078861071, 0.1853875086, 0.2869787673, 0.373296012, 0.4478025234, 0.5214848259, 0.5968328798, 0.6593857253, 0.7126689374, 0.7746164892, 0.8522262076, 0.9501876237, 1, 1, 1, 1], degree=3))
            add(Edge.make_bspline(
                [(-19.5095837116, 17.750132829), (-18.5764965966, 17.7563244168), (-16.5913074056, 17.7694973275), (-12.7987040255, 18.1260969536), (-10.2427380873, 18.2242756955), (-6.4947569706, 18.4217557716), (-2.9396242918, 18.3271077498), (1.3161403141, 18.5325250144), (5.846850049, 18.2057147503), (11.8438965539, 18.015196782), (18.8615107913, 18.0311999967), (19.5219533199, 17.3121916236), (19.704317674, 17.1136558056)],
                knots=[0, 0, 0, 0, 0.088549754, 0.1883940006, 0.2721447417, 0.3706621273, 0.469143676, 0.5746760878, 0.683605617, 0.8156261821, 0.9490898742, 1, 1, 1, 1], degree=3))
            add(Edge.make_bspline(
                [(19.704317674, 17.1136558056), (20.4660764924, 16.40732859), (22.1023067283, 14.8901634207), (25.4707250683, 11.9054874951), (26.9231641299, 9.1399257151), (30.6149308579, 5.641689151), (27.5673209338, 3.210433105), (24.3913064484, -0.8597774947), (20.589660928, -4.21014052), (15.6986794339, -8.7354987119), (11.5981846852, -11.9044730513), (7.9107016082, -15.273535089), (4.8758837066, -17.4439363568), (2.2180895591, -20.1630638064), (0.6931811647, -21.1372364599), (0, -21.5800683945)],
                knots=[0, 0, 0, 0, 0.0681244273, 0.1463287922, 0.2158358485, 0.2916692257, 0.356262669, 0.4423588831, 0.5280034165, 0.6244272982, 0.7110380194, 0.7939908084, 0.8671133434, 0.9395934026, 1, 1, 1, 1], degree=3))
        make_face(mode=Mode.SUBTRACT)
    extrude(amount=F2_DEPTH)


solid = f1.part
